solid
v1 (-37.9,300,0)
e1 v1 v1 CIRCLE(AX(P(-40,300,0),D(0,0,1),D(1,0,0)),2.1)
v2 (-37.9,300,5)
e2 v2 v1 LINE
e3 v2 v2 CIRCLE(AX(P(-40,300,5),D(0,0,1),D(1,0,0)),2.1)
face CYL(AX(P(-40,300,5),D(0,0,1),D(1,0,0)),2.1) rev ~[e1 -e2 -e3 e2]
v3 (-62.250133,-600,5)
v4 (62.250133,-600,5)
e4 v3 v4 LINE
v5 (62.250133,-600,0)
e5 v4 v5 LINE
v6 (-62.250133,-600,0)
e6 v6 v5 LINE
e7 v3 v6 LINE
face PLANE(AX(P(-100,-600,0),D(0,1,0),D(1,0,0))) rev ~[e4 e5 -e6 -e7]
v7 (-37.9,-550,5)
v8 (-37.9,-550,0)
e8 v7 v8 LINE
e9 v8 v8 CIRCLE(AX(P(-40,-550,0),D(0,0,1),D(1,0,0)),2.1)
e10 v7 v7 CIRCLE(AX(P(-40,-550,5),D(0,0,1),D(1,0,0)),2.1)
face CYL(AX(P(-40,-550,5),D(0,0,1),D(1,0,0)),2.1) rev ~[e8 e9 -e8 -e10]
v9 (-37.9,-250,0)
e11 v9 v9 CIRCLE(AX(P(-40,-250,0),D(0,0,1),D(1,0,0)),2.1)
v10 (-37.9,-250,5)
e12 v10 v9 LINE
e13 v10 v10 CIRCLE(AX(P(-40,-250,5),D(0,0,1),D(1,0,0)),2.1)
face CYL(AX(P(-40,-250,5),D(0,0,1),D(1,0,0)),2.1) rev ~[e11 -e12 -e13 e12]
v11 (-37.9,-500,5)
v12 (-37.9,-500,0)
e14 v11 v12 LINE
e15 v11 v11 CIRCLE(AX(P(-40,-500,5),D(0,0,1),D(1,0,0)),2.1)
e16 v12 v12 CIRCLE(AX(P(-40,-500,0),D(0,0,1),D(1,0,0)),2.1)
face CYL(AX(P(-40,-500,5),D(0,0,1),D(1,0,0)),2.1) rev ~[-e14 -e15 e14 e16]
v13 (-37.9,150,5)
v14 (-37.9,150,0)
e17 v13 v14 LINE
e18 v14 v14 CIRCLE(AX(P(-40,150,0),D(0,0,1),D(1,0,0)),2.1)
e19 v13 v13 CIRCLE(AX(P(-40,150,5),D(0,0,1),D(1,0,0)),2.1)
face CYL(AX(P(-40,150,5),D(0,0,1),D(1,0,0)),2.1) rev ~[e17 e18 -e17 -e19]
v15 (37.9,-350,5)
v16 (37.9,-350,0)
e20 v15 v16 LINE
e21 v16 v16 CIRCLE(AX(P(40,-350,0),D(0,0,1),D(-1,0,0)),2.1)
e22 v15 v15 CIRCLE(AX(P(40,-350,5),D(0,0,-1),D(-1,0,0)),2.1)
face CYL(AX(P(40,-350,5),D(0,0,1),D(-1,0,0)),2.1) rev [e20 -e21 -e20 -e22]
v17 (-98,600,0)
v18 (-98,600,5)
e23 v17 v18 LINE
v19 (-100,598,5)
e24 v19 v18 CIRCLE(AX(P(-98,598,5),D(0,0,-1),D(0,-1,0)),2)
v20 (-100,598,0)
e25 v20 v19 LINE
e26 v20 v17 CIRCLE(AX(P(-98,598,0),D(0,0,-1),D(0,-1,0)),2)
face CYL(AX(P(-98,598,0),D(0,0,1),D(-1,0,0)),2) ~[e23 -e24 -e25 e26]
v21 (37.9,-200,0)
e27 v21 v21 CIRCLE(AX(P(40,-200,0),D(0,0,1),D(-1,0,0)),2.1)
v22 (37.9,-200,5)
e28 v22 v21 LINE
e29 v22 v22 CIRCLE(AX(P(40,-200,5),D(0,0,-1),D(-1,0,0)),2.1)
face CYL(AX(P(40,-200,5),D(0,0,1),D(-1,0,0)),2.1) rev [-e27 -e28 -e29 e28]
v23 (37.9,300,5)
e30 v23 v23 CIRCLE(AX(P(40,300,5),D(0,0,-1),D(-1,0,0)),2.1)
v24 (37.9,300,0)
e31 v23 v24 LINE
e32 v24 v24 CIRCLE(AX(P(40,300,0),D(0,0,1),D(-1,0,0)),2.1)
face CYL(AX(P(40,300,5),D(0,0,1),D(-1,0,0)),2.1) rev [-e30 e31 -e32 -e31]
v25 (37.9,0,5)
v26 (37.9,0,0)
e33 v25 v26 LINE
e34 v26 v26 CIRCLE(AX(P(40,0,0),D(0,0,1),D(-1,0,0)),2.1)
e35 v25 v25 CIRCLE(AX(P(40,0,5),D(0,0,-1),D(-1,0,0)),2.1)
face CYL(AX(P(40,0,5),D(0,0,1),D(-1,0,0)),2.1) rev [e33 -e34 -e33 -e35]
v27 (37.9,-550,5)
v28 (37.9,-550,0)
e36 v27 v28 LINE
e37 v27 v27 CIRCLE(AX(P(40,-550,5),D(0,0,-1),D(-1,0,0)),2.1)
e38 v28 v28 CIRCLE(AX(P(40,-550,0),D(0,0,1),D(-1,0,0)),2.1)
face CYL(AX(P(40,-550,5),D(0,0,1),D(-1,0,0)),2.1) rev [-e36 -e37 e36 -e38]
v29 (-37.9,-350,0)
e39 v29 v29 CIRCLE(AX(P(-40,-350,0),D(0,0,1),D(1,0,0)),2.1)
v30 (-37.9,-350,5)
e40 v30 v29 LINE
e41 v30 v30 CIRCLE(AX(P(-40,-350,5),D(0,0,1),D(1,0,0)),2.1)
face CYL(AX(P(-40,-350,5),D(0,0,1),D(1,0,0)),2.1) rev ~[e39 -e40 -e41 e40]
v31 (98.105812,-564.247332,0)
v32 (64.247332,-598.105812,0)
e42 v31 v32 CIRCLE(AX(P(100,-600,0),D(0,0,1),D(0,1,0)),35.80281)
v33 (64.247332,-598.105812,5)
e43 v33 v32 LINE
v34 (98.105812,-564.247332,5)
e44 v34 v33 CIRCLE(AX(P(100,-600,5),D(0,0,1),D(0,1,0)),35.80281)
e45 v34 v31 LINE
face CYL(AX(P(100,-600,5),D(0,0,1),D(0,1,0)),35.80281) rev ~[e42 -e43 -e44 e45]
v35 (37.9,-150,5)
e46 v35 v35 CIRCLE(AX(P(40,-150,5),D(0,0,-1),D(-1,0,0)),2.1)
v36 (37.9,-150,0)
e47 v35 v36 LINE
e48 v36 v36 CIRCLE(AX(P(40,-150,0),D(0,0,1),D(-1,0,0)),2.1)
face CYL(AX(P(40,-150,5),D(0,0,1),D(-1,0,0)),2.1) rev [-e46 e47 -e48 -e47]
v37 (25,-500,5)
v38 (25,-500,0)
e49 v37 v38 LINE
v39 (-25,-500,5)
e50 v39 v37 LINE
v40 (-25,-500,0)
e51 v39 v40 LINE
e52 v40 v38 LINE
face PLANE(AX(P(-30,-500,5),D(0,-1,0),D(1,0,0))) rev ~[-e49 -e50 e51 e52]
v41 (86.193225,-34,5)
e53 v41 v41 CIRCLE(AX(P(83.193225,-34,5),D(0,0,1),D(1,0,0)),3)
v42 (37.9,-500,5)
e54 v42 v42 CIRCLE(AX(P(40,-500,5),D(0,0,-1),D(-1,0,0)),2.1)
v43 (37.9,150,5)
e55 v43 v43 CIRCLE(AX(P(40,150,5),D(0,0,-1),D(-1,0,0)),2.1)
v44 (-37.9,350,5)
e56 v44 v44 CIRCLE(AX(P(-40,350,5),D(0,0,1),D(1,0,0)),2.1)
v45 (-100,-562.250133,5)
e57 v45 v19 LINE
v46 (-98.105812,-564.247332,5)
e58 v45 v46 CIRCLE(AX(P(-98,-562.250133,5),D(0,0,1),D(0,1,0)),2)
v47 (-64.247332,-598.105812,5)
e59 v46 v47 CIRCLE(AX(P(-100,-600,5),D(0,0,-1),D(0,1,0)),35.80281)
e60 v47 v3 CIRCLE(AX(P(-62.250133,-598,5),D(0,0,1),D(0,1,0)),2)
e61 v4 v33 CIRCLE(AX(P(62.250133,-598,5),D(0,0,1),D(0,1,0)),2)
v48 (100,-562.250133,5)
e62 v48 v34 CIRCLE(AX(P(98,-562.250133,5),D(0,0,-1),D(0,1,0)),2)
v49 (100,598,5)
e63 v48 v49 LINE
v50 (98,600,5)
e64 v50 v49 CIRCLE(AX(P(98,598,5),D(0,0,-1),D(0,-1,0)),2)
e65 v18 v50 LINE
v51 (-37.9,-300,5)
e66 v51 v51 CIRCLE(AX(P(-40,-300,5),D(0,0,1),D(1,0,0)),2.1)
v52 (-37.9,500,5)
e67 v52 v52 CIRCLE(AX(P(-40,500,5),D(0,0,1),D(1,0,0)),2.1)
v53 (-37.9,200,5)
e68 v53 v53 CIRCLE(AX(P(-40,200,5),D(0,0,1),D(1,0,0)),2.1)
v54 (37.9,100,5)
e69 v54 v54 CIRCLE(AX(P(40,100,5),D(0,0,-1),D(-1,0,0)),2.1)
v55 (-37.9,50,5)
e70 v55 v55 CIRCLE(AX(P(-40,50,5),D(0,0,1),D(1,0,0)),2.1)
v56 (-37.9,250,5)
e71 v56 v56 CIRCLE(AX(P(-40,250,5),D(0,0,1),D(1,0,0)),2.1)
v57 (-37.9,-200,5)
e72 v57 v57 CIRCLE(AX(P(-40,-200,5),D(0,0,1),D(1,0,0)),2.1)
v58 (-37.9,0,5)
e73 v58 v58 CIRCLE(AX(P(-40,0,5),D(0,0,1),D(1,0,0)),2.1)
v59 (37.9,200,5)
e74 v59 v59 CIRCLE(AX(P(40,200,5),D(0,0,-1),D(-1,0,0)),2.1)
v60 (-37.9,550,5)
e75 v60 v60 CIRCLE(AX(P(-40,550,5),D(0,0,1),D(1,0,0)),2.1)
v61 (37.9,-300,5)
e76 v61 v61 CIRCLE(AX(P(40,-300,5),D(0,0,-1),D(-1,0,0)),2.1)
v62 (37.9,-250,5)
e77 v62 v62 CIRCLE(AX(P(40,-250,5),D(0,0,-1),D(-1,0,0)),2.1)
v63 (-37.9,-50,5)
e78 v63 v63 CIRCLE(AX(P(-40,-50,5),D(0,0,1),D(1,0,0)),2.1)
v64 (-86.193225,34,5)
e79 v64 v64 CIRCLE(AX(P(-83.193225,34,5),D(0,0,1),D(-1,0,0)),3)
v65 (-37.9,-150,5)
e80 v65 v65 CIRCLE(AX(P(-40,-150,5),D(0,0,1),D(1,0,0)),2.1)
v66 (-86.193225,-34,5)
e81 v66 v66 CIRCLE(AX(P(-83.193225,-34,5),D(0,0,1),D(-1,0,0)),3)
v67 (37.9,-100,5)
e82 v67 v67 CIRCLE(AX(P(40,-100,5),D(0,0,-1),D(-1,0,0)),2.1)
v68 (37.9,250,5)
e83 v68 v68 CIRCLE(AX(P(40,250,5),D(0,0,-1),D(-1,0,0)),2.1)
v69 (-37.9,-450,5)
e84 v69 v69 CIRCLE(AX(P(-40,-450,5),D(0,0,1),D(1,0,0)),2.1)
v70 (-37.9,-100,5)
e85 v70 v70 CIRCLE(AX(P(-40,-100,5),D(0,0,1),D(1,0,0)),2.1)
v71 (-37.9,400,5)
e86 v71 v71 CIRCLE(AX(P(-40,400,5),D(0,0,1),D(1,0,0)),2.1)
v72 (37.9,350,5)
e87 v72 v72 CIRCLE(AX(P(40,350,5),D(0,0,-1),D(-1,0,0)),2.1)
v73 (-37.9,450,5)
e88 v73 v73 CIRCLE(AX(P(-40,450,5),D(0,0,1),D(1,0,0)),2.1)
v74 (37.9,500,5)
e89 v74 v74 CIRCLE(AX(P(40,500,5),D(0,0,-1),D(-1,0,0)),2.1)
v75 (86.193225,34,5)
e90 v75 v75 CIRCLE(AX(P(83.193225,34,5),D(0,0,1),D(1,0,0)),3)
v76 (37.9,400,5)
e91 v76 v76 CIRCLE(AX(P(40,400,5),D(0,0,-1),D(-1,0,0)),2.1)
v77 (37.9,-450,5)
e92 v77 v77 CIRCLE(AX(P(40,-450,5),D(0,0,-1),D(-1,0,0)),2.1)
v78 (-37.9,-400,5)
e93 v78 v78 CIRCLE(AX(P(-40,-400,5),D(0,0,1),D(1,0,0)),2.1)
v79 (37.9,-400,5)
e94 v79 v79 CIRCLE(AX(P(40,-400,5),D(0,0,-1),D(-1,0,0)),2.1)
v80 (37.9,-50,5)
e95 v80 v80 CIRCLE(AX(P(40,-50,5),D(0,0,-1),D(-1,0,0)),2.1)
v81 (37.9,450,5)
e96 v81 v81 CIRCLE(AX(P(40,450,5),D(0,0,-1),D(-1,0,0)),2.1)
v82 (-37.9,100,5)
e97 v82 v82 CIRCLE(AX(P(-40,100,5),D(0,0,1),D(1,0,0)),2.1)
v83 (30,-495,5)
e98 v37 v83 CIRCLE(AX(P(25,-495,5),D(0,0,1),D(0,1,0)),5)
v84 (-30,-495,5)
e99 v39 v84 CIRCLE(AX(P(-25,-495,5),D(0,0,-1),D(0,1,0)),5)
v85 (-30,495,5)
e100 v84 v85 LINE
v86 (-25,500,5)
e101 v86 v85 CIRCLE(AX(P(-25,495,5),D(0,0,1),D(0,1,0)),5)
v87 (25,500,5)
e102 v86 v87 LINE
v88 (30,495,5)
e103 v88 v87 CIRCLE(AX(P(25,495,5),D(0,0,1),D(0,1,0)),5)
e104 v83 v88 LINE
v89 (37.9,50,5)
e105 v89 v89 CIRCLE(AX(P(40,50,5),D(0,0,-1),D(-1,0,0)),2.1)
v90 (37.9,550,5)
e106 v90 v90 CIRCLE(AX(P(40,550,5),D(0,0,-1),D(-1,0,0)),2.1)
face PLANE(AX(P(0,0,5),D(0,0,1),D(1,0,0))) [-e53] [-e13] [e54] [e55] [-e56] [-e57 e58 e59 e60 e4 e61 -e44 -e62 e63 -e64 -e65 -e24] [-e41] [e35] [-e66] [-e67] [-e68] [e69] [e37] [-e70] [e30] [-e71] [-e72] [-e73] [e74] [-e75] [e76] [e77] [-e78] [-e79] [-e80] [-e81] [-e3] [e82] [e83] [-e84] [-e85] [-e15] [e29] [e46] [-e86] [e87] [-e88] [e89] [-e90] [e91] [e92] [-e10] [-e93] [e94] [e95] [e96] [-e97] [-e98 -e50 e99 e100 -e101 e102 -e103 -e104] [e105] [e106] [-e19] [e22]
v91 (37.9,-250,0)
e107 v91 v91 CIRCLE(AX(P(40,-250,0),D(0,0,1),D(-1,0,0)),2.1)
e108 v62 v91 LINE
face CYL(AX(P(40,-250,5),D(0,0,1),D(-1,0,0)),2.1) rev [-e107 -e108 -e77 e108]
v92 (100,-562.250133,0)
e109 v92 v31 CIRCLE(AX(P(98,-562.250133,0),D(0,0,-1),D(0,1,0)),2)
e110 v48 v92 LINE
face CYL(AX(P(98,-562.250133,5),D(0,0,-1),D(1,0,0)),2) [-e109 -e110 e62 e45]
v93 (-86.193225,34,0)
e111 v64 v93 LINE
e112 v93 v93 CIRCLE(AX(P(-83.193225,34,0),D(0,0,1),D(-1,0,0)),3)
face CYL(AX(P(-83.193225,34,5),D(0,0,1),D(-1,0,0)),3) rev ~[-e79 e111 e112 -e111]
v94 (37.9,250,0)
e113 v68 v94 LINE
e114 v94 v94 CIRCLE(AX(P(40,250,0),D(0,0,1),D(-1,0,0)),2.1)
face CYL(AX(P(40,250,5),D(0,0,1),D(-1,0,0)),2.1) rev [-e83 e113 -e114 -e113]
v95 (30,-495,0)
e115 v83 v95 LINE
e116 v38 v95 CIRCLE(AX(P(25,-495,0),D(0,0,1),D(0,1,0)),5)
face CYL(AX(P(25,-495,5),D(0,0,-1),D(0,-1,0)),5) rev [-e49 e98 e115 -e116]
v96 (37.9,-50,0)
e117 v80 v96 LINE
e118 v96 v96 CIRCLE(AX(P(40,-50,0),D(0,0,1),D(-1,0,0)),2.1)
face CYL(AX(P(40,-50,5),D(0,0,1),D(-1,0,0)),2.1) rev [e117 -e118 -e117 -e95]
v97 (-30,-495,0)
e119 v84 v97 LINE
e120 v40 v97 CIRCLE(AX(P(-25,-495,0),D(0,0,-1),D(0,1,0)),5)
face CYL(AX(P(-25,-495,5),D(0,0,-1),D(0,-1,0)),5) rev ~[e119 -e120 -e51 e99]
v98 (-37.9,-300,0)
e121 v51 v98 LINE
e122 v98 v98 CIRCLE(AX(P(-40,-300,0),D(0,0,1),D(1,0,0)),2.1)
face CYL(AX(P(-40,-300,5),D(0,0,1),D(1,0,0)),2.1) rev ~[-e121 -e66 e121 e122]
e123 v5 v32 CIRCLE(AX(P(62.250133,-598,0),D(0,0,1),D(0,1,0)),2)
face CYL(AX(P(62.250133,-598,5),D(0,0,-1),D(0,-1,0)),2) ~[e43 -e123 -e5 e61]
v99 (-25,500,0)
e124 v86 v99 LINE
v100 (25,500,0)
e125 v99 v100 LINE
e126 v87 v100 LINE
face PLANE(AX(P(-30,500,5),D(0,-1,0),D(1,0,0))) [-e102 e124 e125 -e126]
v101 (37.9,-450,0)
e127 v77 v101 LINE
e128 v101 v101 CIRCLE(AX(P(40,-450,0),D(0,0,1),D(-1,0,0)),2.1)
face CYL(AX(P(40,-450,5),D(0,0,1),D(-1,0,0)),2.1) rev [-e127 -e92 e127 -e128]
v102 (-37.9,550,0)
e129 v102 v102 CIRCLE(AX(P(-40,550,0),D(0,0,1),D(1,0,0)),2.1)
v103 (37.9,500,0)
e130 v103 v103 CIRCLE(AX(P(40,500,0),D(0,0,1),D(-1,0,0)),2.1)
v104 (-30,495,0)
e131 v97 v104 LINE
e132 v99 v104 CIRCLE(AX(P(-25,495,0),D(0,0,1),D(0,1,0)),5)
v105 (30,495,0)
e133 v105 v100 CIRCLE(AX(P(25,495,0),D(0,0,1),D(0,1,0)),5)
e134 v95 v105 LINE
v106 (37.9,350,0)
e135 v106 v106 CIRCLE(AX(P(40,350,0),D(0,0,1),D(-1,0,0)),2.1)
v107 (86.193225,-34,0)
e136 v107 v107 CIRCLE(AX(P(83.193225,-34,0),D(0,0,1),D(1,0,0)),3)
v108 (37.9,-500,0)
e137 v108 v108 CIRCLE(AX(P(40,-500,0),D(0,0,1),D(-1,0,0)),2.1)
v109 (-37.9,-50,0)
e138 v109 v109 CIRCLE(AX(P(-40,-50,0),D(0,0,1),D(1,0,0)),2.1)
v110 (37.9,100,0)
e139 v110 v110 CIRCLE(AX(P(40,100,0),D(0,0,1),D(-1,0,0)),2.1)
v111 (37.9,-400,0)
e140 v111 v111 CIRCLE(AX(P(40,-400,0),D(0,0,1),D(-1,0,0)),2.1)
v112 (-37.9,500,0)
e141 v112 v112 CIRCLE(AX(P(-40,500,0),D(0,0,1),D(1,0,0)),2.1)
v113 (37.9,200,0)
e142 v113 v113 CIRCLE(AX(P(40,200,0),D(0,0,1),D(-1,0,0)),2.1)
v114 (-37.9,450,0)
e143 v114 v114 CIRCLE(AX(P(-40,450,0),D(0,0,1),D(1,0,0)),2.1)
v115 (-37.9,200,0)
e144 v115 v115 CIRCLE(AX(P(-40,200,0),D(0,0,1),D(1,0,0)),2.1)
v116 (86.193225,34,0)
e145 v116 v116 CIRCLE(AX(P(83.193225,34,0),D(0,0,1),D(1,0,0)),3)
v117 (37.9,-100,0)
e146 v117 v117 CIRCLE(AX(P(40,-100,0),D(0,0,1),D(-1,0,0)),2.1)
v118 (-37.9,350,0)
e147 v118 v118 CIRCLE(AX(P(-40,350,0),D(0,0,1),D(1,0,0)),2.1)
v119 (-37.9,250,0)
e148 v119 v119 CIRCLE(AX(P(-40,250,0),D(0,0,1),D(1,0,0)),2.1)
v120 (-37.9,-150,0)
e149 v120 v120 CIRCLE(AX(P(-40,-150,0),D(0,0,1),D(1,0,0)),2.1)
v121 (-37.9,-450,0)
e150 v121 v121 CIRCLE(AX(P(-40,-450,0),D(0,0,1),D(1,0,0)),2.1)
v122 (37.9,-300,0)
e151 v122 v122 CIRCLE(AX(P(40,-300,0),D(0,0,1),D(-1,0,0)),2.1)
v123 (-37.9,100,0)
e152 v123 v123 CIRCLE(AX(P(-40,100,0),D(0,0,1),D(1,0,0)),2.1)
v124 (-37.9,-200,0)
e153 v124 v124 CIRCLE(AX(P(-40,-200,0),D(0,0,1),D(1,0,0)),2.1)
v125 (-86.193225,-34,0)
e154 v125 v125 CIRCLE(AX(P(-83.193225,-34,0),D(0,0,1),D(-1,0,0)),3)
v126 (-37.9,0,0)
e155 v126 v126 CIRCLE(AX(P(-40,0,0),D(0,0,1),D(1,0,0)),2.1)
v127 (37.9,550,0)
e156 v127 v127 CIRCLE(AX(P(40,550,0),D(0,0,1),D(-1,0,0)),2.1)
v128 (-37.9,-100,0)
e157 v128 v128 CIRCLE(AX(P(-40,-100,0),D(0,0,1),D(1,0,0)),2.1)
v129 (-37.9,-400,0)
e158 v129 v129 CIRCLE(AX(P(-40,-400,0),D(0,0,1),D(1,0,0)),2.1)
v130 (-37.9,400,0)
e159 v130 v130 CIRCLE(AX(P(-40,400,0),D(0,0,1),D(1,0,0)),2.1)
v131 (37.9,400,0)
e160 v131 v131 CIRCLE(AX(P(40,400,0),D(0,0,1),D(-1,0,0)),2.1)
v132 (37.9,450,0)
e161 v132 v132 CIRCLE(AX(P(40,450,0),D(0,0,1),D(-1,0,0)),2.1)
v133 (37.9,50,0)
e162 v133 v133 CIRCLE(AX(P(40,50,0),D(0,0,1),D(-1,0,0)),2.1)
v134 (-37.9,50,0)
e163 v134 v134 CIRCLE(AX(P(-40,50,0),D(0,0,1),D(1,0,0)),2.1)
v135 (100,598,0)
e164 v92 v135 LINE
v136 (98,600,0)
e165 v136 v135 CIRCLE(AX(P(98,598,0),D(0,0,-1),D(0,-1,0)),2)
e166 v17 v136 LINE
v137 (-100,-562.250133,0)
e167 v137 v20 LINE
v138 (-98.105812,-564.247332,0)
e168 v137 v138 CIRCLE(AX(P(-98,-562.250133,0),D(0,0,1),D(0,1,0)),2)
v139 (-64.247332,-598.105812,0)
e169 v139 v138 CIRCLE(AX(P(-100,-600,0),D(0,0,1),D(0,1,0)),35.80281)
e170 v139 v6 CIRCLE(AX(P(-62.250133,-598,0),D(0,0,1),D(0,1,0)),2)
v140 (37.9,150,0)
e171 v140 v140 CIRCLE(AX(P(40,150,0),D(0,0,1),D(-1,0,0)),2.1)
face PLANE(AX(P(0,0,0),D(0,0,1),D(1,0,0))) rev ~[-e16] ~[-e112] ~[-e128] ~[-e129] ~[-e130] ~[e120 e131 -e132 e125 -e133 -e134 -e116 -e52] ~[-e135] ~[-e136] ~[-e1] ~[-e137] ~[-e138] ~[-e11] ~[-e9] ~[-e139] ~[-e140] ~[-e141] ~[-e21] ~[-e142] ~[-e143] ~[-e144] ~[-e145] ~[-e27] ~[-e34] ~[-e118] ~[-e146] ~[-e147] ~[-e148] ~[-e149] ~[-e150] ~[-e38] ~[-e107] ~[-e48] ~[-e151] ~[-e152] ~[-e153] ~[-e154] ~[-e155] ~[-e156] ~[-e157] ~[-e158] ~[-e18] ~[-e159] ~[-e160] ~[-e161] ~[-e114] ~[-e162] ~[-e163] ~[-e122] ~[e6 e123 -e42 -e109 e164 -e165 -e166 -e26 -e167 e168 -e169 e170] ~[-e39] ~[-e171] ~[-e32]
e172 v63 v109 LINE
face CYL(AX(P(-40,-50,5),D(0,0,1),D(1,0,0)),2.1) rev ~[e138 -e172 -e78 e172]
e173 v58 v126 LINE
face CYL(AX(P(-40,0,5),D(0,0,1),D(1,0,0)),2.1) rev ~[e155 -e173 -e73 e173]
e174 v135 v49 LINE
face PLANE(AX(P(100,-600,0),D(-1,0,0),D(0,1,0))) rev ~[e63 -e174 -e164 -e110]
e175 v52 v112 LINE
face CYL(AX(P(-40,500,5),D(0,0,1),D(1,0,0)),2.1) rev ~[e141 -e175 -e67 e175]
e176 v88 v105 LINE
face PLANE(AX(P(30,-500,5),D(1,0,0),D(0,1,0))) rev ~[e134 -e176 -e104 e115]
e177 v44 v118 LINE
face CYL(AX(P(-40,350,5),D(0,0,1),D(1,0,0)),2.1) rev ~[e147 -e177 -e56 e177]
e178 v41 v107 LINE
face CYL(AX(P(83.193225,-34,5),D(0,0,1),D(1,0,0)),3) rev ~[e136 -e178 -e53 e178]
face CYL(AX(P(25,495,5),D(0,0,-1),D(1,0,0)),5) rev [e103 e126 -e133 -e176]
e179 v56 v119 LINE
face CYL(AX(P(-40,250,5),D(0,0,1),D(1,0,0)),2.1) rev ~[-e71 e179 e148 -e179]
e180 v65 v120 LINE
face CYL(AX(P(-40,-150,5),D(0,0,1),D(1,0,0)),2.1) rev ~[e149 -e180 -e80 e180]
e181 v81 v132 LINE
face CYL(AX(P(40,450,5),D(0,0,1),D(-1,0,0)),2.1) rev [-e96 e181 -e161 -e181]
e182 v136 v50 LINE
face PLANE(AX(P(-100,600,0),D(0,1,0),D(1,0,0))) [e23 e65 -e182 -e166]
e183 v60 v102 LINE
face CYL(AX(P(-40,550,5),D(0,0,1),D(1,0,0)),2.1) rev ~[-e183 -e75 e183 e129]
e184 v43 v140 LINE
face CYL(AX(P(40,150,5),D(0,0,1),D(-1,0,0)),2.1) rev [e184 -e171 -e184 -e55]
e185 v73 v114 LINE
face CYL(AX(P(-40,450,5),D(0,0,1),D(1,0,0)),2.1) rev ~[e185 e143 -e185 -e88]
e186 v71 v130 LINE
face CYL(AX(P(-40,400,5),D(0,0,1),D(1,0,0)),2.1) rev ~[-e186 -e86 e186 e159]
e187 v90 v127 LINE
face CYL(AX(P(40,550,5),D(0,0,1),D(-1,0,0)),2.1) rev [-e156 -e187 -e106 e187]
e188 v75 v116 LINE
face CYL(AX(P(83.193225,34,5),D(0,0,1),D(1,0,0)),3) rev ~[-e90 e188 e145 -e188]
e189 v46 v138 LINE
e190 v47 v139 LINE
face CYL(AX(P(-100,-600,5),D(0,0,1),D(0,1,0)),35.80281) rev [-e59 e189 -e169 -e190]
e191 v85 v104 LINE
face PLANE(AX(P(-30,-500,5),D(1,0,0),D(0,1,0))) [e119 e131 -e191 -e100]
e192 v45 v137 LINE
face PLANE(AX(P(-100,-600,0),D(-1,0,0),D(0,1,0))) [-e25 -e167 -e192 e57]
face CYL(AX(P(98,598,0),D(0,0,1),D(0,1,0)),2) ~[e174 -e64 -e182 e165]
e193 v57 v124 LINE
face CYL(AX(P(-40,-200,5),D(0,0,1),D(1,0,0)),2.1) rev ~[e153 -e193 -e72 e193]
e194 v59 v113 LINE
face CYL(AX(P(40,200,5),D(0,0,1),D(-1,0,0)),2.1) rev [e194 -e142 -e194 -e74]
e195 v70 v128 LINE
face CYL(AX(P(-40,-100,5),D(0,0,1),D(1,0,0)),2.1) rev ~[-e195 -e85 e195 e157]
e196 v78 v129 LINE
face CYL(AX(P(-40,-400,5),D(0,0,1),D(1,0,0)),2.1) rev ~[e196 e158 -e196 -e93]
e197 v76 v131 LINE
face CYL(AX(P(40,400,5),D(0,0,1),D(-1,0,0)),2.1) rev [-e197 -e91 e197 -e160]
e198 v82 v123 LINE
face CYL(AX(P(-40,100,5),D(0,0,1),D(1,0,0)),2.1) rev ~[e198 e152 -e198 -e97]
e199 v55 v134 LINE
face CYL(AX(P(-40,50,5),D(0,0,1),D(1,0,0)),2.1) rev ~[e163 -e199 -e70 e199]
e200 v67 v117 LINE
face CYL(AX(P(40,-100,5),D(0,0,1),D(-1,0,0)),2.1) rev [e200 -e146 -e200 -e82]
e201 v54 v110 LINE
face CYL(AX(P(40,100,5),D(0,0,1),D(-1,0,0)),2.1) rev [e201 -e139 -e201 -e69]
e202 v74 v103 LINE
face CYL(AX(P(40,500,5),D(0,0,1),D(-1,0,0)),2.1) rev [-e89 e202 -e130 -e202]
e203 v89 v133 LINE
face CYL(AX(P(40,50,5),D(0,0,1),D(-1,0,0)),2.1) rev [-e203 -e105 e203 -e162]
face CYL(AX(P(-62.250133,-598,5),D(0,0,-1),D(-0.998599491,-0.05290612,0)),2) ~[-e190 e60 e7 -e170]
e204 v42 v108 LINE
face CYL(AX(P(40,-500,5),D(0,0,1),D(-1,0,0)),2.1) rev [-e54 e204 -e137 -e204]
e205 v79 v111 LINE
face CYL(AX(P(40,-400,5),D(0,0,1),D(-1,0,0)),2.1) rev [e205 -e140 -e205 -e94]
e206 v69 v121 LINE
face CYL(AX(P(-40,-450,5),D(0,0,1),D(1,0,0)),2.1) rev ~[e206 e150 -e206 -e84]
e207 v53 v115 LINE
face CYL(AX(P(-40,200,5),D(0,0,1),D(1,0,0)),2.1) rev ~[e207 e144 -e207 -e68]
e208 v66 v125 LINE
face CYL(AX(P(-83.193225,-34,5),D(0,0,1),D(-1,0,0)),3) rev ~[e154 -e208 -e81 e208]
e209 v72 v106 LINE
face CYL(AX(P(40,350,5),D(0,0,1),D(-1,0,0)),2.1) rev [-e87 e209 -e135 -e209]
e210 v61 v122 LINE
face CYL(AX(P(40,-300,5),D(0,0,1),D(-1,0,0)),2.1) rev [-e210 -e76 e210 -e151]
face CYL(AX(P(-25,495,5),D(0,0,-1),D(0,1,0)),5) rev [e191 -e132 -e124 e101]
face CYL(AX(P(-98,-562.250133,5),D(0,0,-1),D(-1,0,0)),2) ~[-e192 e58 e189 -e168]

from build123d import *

# Parameters (mm, degrees)
SKETCH1_W           = 200
SKETCH1_H           = 1200
BOSS_EXTRUDE1_DEPTH = 5
CUT_EXTRUDE1_DEPTH  = 609.296802556
SKETCH5_W           = 60
SKETCH5_H           = 1000
CUT_EXTRUDE3_DEPTH  = 609.296802556
FILLET2_R           = 5
SKETCH6_R           = 3
CUT_EXTRUDE4_DEPTH  = 609.296802556
FILLET3_R           = 2
SKETCH9_R           = 2.1
CUT_EXTRUDE5_DEPTH  = 609.296802556


with BuildPart() as part:
    # Sketch1 → Boss-Extrude1 (new body)
    with BuildSketch(Plane.XY):
        Rectangle(SKETCH1_W, SKETCH1_H)
    extrude(amount=BOSS_EXTRUDE1_DEPTH)

    # Sketch3 → Cut-Extrude1 (cut, through all)
    with BuildSketch(Plane.XY.offset(5)):
        with BuildLine():
            Line((-100, -600), (-100, -564.197190267))
            ThreePointArc((-100, -564.197190267), (-74.683590452, -574.683590452), (-64.197190267, -600))
            Line((-64.197190267, -600), (-100, -600))
        make_face()
        with BuildLine():
            Line((64.197190267, -600), (100, -600))
            Line((100, -600), (100, -564.197190267))
            ThreePointArc((100, -564.197190267), (74.683590452, -574.683590452), (64.197190267, -600))
        make_face()
    extrude(amount=-CUT_EXTRUDE1_DEPTH, mode=Mode.SUBTRACT)

    # Sketch5 → Cut-Extrude3 (cut, through all)
    with BuildSketch(Plane.XY.offset(5)):
        Rectangle(SKETCH5_W, SKETCH5_H)
    extrude(amount=-CUT_EXTRUDE3_DEPTH, mode=Mode.SUBTRACT)

    # Fillet2
    fillet2_edges = [part.edges().sort_by_distance(p)[0] for p in [
        (30, 500, 2.5),
        (30, -500, 2.5),
        (-30, -500, 2.5),
        (-30, 500, 2.5),
    ]]
    fillet(fillet2_edges, radius=FILLET2_R)

    # Sketch6 → Cut-Extrude4 (cut, through all)
    with BuildSketch(Plane.XY.offset(5)):
        with Locations((83.193225438, -34)):
            Circle(SKETCH6_R)
        with Locations((83.193225438, 34)):
            Circle(SKETCH6_R)
        with Locations(Location((-83.193225438, 34, 0), (0, 0, 180))):
            Circle(SKETCH6_R)
        with Locations(Location((-83.193225438, -34, 0), (0, 0, 180))):
            Circle(SKETCH6_R)
    extrude(amount=-CUT_EXTRUDE4_DEPTH, mode=Mode.SUBTRACT)

    # Fillet3
    fillet3_edges = [part.edges().sort_by_distance(p)[0] for p in [
        (64.197190267, -600, 2.5),
        (100, -564.197190267, 2.5),
        (-64.197190267, -600, 2.5),
        (-100, -564.197190267, 2.5),
        (-100, 600, 2.5),
        (100, 600, 2.5),
    ]]
    fillet(fillet3_edges, radius=FILLET3_R)

    # Sketch9 → Cut-Extrude5 (cut, through all)
    with BuildSketch(Plane.XY.offset(5)):
        with Locations((-40, 550)):
            Circle(SKETCH9_R)
        with Locations((-40, 500)):
            Circle(SKETCH9_R)
        with Locations((-40, 450)):
            Circle(SKETCH9_R)
        with Locations((-40, 400)):
            Circle(SKETCH9_R)
        with Locations((-40, 350)):
            Circle(SKETCH9_R)
        with Locations((-40, 300)):
            Circle(SKETCH9_R)
        with Locations((-40, 250)):
            Circle(SKETCH9_R)
        with Locations((-40, 200)):
            Circle(SKETCH9_R)
        with Locations((-40, 150)):
            Circle(SKETCH9_R)
        with Locations((-40, 100)):
            Circle(SKETCH9_R)
        with Locations((-40, 50)):
            Circle(SKETCH9_R)
        with Locations((-40, 0)):
            Circle(SKETCH9_R)
        with Locations((-40, -50)):
            Circle(SKETCH9_R)
        with Locations((-40, -100)):
            Circle(SKETCH9_R)
        with Locations((-40, -150)):
            Circle(SKETCH9_R)
        with Locations((-40, -200)):
            Circle(SKETCH9_R)
        with Locations((-40, -250)):
            Circle(SKETCH9_R)
        with Locations((-40, -300)):
            Circle(SKETCH9_R)
        with Locations((-40, -350)):
            Circle(SKETCH9_R)
        with Locations((-40, -400)):
            Circle(SKETCH9_R)
        with Locations((-40, -450)):
            Circle(SKETCH9_R)
        with Locations((-40, -500)):
            Circle(SKETCH9_R)
        with Locations((-40, -550)):
            Circle(SKETCH9_R)
    cut_extrude5 = extrude(amount=-CUT_EXTRUDE5_DEPTH, mode=Mode.SUBTRACT)

    # Mirror1: Cut-Extrude5 across plane
    add(cut_extrude5.mirror(Plane(origin=(0, 0, 0), x_dir=(0, 0, 1), z_dir=(1, 0, 0))), mode=Mode.SUBTRACT)


solid = part.part
